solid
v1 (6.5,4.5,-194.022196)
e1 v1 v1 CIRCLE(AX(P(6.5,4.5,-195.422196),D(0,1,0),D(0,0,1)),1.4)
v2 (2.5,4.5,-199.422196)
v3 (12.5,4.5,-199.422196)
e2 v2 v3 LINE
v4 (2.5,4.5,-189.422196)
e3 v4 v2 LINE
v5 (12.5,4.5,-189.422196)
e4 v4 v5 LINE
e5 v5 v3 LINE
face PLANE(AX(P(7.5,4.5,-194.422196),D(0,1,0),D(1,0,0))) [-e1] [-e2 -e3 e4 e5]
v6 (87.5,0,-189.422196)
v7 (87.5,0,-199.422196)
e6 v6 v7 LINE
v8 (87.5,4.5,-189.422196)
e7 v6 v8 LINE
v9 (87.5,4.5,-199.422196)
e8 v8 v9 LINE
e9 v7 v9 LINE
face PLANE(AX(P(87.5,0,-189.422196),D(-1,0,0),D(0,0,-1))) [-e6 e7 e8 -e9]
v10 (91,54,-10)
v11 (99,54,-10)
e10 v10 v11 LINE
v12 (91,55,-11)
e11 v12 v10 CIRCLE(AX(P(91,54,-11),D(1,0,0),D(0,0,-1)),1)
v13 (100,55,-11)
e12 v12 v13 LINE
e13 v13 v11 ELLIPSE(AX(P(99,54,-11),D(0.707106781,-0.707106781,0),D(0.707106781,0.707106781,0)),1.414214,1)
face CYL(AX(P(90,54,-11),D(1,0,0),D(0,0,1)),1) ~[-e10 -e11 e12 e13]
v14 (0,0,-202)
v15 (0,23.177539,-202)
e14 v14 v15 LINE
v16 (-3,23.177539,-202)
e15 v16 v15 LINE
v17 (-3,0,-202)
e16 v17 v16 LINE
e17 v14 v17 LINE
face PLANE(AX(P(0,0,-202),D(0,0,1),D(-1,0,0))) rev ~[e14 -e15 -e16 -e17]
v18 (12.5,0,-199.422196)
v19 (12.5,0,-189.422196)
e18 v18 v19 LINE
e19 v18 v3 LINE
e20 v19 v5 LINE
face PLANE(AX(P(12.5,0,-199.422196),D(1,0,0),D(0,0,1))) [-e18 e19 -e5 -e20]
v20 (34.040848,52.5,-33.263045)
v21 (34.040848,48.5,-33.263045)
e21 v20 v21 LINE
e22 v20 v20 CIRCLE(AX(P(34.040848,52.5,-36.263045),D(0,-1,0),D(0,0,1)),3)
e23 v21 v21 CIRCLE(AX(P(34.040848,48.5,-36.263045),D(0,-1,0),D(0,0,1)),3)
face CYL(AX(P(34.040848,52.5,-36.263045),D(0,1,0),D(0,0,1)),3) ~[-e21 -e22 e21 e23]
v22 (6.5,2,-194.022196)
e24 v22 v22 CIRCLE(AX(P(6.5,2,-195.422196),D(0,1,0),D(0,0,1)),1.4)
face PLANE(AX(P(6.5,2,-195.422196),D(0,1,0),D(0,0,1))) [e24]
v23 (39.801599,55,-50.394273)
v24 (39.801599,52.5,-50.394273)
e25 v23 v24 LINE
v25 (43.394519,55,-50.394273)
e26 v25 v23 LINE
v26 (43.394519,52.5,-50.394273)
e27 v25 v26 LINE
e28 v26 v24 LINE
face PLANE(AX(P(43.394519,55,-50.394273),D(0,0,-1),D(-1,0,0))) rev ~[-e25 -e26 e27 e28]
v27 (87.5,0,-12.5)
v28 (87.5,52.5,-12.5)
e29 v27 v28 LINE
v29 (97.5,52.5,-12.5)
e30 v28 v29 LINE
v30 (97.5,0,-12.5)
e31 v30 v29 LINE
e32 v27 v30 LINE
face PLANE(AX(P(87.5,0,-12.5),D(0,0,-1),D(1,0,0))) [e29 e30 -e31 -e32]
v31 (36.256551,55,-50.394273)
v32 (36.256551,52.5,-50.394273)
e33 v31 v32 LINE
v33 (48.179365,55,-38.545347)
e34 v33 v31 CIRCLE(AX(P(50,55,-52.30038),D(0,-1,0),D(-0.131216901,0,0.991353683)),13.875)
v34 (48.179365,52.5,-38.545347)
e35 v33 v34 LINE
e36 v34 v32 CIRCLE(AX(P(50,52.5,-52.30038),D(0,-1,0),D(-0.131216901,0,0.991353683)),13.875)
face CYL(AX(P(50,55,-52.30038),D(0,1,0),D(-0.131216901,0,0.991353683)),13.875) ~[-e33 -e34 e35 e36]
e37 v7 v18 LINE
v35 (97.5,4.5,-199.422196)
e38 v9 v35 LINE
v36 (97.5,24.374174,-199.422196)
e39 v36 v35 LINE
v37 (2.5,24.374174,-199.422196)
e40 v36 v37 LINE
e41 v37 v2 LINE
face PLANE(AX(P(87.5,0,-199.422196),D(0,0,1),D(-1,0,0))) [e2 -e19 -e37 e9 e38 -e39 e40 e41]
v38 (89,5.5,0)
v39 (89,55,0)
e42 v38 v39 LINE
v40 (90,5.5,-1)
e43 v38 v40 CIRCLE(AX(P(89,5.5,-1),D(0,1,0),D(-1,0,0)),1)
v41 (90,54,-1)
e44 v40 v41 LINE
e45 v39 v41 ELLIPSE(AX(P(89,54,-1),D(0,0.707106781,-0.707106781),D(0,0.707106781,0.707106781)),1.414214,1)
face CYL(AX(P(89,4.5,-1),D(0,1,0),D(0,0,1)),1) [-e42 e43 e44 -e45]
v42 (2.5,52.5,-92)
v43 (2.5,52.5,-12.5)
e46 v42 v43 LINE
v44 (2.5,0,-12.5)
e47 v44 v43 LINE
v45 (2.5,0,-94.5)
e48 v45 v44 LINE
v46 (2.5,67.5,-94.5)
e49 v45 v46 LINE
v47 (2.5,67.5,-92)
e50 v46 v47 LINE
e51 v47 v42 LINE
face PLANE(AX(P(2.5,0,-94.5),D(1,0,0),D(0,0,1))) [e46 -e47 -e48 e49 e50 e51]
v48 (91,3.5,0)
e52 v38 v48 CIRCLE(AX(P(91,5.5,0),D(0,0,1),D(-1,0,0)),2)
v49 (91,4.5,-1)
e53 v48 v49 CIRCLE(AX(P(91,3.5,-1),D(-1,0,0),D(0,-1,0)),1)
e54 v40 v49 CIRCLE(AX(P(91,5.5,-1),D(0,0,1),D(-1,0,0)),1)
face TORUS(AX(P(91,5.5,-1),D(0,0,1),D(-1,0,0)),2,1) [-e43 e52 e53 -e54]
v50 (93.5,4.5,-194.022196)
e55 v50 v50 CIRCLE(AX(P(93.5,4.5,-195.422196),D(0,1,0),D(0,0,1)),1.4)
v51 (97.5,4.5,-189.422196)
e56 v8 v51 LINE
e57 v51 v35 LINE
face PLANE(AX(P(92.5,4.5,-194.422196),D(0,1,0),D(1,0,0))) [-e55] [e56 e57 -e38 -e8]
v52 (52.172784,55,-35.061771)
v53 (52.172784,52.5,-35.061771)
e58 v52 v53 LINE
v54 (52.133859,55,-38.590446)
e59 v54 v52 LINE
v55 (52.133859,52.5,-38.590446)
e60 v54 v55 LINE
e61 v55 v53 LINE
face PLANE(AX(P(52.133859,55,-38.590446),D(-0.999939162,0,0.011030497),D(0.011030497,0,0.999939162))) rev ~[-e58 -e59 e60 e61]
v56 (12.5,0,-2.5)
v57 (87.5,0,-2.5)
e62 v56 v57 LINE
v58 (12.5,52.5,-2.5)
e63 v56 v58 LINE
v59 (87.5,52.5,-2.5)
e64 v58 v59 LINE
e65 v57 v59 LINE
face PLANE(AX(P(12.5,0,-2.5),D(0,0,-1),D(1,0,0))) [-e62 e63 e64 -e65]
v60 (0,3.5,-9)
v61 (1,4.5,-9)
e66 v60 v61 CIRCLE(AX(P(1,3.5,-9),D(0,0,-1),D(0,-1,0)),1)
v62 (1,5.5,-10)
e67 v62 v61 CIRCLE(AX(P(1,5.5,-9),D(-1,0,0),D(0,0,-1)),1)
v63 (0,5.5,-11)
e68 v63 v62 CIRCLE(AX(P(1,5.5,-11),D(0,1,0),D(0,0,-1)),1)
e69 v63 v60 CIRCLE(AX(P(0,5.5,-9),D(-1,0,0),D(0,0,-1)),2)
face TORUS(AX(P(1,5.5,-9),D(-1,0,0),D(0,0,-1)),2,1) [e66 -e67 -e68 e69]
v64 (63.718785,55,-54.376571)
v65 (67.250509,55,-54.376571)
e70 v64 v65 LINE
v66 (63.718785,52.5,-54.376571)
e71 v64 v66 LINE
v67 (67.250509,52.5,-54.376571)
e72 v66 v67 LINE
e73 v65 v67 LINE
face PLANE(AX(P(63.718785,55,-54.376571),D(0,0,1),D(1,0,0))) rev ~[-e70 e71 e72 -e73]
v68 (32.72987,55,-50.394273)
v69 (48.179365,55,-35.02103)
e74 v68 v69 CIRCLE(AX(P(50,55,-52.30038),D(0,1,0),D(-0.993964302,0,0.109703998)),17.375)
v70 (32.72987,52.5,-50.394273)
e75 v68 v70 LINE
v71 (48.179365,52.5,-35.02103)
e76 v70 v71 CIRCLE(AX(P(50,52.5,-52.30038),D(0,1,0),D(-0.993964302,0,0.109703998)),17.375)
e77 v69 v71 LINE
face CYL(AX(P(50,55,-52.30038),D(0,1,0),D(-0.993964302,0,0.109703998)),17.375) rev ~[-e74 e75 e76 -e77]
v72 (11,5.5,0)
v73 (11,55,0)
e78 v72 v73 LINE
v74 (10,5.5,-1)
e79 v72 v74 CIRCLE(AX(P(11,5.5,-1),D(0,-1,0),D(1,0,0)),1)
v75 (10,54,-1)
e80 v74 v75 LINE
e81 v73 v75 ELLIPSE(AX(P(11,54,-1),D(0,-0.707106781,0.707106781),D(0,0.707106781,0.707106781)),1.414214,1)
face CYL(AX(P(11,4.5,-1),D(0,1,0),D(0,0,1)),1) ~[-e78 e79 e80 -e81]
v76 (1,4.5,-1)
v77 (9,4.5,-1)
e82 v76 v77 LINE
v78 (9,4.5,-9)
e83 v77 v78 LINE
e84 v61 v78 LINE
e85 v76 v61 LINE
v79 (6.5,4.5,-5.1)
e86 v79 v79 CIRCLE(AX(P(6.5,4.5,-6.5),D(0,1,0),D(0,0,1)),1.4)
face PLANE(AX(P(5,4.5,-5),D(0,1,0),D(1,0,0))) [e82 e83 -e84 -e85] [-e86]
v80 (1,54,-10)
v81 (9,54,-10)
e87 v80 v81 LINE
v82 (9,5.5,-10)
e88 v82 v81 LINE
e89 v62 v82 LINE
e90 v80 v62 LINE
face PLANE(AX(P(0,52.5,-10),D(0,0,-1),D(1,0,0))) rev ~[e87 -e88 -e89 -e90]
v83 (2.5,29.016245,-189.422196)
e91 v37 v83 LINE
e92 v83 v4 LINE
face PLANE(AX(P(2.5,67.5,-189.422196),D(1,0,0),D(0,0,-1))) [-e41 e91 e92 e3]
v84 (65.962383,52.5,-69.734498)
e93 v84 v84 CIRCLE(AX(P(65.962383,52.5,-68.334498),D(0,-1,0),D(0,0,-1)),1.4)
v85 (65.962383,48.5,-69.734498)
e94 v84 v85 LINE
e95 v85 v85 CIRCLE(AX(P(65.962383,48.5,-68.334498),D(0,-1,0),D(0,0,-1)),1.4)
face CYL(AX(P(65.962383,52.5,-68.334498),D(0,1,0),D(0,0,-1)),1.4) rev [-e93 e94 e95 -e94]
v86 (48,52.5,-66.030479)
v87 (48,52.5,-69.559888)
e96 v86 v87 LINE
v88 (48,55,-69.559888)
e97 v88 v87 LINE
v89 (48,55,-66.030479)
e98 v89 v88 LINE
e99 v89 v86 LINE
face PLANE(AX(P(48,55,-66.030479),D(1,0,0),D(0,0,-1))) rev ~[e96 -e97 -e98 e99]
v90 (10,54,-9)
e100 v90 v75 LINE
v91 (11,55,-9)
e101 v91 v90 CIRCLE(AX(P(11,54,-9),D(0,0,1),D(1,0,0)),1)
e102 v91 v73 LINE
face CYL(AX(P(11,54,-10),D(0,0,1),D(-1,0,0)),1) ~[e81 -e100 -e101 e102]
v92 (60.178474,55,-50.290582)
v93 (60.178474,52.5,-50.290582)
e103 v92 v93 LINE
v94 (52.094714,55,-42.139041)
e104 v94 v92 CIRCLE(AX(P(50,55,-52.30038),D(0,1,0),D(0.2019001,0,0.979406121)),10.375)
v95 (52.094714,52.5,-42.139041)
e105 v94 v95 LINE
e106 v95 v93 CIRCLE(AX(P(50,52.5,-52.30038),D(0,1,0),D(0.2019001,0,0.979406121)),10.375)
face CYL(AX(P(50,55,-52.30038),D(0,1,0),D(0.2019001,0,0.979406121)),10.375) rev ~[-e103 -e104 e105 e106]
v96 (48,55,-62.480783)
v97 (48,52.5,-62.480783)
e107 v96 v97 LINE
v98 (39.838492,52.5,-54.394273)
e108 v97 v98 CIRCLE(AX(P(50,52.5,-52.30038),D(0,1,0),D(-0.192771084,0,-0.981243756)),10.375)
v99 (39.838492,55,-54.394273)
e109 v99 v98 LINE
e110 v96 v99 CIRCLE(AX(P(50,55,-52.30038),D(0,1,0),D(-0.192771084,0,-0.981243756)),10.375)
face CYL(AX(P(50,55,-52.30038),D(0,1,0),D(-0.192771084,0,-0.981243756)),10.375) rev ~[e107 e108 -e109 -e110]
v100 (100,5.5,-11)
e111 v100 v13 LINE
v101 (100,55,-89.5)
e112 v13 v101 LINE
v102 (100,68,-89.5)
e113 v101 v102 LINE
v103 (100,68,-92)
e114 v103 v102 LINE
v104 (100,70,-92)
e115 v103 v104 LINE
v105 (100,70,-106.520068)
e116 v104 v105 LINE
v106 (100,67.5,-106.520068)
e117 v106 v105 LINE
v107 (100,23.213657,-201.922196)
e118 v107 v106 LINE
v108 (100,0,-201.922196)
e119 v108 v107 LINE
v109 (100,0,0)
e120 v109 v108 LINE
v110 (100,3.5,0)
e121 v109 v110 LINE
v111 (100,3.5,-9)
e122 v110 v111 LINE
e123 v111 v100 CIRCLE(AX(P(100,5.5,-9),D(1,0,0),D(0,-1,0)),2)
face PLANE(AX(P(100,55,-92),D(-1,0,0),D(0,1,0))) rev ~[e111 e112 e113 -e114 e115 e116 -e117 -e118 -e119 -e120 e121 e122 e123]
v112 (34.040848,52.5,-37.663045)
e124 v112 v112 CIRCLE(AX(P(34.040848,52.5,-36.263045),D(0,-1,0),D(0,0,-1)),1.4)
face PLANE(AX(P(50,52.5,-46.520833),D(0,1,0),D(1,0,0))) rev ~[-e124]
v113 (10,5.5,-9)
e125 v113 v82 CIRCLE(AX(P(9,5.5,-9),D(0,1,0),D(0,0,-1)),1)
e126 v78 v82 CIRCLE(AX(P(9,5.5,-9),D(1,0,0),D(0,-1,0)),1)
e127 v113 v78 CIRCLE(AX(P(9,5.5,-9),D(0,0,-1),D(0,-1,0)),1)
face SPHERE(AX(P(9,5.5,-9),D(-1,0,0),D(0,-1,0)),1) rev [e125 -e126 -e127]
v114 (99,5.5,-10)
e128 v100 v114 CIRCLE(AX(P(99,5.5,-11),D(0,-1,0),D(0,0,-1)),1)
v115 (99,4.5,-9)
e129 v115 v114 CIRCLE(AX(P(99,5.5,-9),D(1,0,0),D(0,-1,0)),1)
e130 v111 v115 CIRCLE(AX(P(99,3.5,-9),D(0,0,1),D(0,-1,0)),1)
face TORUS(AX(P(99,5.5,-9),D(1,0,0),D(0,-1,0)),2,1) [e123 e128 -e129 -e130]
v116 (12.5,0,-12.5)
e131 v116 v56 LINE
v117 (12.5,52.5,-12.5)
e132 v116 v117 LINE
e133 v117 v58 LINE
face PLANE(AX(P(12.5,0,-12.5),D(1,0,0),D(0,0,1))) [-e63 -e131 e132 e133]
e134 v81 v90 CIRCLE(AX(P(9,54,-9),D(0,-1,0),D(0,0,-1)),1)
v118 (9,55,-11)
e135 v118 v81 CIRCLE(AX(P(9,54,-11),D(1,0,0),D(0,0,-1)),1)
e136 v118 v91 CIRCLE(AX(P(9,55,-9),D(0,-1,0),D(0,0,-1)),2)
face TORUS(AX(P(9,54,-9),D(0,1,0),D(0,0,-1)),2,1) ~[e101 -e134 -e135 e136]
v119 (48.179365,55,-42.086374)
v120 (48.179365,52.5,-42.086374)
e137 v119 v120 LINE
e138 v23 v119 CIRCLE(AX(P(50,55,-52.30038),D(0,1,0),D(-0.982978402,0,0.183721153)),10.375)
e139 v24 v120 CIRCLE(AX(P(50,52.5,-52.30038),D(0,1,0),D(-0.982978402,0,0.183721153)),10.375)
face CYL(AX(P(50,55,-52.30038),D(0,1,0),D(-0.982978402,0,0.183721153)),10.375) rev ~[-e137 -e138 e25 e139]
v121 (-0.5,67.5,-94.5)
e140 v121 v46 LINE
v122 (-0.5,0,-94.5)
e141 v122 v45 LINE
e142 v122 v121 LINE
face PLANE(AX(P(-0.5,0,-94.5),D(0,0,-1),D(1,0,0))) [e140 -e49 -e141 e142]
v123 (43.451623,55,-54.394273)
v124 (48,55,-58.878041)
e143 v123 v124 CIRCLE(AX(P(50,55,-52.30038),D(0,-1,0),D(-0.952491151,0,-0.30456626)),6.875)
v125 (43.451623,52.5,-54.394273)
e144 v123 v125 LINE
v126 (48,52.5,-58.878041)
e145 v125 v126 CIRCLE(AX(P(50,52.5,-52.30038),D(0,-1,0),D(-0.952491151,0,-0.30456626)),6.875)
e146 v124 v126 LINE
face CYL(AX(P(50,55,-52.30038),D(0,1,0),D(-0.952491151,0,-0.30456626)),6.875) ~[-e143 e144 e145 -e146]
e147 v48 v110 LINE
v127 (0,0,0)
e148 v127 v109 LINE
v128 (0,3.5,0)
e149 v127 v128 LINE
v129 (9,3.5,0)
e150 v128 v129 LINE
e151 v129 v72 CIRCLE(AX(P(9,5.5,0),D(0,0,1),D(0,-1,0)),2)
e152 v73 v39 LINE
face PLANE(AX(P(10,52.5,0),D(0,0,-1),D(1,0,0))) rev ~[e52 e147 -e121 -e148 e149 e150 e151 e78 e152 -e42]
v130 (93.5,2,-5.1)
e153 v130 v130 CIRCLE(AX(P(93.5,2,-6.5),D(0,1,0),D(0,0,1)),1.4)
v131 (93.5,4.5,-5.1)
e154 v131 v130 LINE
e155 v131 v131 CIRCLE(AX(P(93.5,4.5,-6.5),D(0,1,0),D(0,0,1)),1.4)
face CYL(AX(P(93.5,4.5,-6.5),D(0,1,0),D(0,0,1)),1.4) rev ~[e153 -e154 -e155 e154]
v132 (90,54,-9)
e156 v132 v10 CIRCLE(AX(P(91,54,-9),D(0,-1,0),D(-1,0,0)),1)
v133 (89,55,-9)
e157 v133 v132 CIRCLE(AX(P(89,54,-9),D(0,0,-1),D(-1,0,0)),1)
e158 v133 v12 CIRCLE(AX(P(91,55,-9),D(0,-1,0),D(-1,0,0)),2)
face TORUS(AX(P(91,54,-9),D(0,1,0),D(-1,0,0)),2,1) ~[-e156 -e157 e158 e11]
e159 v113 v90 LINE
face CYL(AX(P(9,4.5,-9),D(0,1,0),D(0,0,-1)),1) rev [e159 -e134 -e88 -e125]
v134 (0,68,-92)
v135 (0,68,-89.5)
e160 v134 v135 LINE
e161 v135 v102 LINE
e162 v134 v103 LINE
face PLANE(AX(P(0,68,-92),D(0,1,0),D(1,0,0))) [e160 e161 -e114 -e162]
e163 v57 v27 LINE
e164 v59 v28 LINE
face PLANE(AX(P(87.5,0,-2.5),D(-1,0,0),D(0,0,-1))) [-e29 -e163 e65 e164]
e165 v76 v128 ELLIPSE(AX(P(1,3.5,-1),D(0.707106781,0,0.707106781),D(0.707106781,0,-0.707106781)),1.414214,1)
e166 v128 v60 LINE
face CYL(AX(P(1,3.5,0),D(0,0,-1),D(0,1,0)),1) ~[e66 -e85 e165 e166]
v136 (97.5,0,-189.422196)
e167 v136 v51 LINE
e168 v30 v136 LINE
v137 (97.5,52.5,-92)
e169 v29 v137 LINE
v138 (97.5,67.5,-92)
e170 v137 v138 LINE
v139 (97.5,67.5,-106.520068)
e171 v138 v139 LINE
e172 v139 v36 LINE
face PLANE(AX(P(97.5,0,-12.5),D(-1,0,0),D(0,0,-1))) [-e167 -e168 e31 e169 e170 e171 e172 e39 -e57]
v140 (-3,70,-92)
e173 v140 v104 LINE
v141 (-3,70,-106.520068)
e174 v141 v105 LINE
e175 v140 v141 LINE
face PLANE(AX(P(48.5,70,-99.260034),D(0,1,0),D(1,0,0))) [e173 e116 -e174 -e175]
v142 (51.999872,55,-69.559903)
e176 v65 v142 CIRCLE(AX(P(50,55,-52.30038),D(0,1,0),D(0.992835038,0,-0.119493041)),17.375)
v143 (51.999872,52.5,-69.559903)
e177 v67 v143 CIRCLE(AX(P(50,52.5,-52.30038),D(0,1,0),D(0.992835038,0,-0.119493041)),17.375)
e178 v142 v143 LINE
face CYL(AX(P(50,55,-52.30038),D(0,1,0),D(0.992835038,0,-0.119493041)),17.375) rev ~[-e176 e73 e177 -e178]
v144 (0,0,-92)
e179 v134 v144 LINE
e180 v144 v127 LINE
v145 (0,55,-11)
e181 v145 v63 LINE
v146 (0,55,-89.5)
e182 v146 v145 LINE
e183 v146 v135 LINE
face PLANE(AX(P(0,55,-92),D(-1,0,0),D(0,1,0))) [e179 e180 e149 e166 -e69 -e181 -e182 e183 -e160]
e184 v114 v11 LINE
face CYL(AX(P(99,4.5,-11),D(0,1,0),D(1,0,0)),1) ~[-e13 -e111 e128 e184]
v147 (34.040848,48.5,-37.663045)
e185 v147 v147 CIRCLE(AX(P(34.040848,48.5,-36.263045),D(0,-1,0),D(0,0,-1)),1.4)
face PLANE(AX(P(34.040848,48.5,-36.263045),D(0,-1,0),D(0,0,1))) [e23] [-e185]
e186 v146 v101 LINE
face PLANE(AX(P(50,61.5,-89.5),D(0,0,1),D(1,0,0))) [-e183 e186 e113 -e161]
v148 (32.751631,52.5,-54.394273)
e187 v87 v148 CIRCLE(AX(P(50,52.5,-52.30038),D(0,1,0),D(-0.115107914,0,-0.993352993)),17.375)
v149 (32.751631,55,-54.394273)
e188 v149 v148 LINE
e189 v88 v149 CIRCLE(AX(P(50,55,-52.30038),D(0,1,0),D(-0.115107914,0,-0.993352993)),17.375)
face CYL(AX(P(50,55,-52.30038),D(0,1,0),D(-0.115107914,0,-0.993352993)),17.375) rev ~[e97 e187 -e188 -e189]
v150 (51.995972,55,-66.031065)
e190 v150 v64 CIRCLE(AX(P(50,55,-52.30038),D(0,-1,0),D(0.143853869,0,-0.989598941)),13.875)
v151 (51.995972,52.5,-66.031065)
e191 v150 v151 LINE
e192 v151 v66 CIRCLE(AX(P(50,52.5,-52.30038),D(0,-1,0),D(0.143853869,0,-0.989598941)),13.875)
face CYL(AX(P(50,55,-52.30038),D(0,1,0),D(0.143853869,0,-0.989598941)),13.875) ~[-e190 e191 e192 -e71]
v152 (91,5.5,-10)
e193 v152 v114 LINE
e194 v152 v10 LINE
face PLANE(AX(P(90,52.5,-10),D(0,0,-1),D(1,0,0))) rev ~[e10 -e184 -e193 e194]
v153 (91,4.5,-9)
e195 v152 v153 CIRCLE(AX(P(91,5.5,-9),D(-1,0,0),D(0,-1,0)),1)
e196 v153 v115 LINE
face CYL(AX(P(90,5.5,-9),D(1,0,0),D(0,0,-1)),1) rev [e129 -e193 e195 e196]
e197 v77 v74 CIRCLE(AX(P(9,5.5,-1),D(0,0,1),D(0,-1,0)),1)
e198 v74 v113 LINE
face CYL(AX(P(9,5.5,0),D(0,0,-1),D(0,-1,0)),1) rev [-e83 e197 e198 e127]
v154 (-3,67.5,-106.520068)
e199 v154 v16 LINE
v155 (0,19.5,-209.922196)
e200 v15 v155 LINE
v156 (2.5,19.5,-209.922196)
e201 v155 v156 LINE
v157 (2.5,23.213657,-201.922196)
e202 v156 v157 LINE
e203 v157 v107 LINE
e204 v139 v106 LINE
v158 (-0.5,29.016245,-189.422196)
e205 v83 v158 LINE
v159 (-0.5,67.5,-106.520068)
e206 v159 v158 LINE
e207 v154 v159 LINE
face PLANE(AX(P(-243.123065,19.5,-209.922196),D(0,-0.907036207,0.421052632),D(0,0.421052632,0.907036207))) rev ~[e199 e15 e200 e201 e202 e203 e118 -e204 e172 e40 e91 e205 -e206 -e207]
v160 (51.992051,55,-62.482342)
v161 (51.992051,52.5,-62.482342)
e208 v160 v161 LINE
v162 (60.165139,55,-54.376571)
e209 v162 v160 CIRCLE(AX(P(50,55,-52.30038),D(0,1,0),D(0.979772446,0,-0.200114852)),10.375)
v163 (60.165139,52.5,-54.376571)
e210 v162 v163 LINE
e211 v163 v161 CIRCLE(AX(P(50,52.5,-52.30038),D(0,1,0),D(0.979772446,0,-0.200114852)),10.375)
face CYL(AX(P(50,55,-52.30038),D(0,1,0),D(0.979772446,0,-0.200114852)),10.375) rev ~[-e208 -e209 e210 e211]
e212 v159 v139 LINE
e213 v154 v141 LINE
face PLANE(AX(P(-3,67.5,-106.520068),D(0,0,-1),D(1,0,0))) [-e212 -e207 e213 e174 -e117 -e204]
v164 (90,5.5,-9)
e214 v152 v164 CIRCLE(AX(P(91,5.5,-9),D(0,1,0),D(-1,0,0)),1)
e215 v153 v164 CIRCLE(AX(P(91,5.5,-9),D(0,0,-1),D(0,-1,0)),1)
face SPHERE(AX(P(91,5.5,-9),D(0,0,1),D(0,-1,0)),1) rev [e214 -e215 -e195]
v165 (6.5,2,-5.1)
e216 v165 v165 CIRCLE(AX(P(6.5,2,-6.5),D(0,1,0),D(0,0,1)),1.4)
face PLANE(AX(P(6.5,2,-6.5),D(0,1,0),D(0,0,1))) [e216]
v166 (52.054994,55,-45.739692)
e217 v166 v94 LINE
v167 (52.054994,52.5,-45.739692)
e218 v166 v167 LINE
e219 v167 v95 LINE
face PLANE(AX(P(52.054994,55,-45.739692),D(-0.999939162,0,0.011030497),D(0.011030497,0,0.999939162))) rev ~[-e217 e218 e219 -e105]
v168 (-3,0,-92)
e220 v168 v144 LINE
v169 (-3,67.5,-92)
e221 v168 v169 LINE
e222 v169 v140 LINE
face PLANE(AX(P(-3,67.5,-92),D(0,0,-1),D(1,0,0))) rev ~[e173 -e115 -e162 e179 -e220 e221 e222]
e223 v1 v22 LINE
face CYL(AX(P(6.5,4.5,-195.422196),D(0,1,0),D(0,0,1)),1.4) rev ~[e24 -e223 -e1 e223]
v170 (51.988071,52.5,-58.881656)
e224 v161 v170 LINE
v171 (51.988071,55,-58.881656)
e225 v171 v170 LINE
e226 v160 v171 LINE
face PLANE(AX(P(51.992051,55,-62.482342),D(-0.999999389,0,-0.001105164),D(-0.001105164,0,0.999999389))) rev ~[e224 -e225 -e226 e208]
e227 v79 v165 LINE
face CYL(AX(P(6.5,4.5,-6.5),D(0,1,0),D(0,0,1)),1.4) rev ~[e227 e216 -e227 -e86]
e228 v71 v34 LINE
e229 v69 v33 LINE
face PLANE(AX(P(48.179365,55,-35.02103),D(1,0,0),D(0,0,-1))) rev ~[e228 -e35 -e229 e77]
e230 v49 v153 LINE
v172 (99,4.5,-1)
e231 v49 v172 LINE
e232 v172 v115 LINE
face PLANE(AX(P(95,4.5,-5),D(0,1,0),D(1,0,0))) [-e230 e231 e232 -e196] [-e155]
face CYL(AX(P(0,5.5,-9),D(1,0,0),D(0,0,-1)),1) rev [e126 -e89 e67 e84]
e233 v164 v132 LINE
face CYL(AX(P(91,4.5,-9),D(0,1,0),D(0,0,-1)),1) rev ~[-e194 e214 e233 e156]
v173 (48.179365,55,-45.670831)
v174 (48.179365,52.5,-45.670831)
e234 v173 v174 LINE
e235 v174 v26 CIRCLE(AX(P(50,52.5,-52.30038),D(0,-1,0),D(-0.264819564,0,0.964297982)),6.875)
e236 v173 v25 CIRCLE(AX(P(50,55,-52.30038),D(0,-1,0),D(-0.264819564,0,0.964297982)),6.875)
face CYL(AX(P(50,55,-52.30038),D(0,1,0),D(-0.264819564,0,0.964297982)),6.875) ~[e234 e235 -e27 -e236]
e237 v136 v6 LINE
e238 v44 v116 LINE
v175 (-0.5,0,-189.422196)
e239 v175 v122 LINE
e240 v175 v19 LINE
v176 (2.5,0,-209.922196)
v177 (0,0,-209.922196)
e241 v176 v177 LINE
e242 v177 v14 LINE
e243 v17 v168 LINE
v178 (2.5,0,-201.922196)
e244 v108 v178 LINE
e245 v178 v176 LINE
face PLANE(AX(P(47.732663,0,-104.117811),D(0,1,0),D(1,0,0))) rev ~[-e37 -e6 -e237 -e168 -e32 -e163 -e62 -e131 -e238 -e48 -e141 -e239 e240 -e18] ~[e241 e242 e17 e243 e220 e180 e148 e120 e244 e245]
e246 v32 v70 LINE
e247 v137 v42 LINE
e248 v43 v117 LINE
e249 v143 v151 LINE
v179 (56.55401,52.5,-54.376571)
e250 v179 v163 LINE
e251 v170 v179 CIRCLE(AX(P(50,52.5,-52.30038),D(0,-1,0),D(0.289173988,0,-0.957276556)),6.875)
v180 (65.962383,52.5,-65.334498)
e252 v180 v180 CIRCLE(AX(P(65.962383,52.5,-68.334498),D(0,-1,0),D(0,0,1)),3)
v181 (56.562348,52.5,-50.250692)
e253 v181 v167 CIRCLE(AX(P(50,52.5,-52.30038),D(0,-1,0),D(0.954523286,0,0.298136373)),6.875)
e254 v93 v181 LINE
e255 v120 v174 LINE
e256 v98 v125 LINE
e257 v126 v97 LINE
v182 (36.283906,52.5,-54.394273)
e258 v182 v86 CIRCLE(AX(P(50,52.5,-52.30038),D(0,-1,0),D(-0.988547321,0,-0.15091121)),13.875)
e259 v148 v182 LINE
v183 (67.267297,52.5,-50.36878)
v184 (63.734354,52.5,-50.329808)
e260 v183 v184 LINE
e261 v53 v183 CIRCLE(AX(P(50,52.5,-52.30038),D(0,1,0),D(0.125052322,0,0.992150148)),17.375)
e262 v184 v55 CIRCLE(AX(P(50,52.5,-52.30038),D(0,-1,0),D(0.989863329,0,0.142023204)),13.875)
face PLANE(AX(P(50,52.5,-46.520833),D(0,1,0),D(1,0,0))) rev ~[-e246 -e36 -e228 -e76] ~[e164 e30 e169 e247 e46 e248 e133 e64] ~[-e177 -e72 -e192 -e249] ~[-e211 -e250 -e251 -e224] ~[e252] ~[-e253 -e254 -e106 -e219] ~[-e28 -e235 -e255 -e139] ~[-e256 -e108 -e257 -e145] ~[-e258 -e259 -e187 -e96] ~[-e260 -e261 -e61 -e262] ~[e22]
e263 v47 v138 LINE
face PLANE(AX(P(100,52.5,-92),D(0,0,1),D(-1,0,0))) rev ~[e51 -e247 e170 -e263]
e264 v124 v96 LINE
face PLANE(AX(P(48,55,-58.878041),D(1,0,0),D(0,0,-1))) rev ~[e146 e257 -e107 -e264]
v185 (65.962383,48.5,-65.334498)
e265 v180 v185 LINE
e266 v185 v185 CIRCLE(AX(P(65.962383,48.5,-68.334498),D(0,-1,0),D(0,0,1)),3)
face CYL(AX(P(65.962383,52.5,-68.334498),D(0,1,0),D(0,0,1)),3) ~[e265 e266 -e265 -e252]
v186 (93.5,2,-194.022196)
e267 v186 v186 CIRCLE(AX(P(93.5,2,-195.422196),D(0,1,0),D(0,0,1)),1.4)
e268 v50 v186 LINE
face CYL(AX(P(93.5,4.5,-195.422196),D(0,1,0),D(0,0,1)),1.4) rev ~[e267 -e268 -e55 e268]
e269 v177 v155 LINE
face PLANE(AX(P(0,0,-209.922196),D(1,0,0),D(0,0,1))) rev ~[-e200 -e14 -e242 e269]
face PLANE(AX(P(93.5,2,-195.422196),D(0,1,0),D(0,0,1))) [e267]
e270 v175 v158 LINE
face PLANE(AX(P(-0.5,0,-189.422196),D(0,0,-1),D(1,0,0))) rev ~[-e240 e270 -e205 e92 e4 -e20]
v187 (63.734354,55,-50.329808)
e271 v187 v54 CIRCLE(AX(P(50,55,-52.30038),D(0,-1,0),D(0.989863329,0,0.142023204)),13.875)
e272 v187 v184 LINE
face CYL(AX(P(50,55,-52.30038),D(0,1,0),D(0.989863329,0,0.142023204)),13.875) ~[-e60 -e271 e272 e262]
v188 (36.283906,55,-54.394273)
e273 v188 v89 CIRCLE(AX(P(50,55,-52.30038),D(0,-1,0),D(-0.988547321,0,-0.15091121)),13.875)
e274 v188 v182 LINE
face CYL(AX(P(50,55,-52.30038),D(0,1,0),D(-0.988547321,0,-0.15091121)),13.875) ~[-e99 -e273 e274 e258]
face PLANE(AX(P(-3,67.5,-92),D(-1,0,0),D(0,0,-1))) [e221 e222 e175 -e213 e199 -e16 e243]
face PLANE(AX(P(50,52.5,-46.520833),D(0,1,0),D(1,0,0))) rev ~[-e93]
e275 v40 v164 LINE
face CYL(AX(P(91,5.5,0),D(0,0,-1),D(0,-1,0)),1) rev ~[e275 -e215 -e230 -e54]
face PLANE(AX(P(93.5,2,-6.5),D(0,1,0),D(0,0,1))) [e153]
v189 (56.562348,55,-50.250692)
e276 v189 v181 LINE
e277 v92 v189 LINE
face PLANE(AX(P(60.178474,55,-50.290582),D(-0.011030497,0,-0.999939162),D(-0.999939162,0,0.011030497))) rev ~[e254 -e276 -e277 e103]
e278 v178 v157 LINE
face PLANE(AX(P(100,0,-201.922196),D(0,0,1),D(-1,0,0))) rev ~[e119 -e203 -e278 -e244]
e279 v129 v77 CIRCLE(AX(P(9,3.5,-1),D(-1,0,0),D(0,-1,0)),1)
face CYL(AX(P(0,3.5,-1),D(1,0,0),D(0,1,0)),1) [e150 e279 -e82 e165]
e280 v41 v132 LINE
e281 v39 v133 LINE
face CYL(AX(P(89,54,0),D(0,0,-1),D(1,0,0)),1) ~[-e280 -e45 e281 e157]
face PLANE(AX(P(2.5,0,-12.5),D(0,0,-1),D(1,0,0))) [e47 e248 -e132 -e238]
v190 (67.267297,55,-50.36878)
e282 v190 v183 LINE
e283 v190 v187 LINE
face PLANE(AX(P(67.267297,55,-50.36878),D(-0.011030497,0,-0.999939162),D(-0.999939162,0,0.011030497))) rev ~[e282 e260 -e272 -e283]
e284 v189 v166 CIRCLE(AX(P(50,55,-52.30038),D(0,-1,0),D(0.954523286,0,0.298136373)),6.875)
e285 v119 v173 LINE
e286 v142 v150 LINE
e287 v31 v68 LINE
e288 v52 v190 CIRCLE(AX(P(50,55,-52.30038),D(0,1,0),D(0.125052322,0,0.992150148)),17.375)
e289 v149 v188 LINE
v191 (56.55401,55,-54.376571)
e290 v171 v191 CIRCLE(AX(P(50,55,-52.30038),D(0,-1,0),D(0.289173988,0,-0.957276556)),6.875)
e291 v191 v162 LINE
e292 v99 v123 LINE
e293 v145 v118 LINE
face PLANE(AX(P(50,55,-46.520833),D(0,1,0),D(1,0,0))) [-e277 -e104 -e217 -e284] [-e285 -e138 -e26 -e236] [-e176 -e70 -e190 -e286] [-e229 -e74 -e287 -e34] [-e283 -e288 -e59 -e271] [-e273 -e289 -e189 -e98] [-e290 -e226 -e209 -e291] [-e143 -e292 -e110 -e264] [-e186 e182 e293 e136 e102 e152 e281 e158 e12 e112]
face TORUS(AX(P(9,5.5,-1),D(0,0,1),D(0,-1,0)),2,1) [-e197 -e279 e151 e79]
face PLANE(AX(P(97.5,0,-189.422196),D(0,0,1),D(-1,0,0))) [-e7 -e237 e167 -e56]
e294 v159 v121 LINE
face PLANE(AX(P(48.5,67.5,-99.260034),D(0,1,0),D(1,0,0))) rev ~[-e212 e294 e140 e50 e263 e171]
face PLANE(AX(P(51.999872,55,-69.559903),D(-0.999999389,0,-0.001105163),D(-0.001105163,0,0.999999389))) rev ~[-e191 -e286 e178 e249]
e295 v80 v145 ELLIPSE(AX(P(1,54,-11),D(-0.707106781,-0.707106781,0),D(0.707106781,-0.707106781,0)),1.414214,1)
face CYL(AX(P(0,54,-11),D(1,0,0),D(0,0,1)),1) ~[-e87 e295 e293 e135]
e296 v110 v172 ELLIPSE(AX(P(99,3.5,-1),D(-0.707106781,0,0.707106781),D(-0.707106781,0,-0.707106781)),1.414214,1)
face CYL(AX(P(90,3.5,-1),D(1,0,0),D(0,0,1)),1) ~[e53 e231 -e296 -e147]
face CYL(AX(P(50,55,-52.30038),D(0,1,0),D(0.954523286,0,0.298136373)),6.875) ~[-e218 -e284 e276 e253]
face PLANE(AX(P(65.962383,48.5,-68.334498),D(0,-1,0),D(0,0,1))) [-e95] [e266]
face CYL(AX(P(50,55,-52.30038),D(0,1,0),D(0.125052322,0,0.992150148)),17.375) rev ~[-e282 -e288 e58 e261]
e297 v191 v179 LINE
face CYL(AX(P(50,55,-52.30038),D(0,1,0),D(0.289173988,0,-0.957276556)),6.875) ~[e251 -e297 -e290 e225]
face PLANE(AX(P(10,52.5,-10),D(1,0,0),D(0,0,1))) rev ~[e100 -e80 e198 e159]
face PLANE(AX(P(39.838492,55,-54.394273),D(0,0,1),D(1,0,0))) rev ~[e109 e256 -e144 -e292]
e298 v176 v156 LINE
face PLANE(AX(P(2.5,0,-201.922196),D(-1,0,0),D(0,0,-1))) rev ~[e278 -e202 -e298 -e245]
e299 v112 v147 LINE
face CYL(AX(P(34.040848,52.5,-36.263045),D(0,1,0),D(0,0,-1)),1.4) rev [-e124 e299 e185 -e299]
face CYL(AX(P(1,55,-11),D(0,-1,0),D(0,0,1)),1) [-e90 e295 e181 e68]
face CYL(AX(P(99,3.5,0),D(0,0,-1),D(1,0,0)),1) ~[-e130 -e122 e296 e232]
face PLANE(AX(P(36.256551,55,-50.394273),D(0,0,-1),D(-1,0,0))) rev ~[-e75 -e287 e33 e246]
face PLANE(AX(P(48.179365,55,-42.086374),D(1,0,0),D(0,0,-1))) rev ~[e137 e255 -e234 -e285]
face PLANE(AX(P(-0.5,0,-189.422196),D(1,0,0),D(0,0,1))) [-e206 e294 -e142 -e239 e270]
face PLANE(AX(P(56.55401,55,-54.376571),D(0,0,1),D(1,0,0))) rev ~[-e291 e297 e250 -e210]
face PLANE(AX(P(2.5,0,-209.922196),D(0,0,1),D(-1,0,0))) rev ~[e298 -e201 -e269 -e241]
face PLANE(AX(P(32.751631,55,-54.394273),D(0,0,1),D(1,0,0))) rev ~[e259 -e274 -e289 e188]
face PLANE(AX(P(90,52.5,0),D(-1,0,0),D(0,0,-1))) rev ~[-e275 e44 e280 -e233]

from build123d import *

# Parameters (mm, degrees)
BOSS_EXTRUDE1_DEPTH     = 67.5
CUT_EXTRUDE1_DEPTH      = 243.123064516
CUT_EXTRUDE1_DEPTH_BACK = 243.123064516
SKETCH3_W               = 10
SKETCH3_H               = 10
CUT_EXTRUDE2_DEPTH      = 63
SKETCH13_W              = 105.444668515
SKETCH13_H              = 94.744573391
CUT_EXTRUDE7_DEPTH      = 15
SKETCH7_R               = 1.4
CUT_EXTRUDE3_DEPTH      = 2.5
BOSS_EXTRUDE3_DEPTH     = 2.5
FILLET1_R               = 1
CUT_EXTRUDE4_DEPTH      = 2.5
SKETCH9_R               = 3
SKETCH9_R_2             = 1.4
BOSS_EXTRUDE4_DEPTH     = 4
SKETCH14_W              = 103
SKETCH14_H              = 14.520068356
BOSS_EXTRUDE5_DEPTH     = 2.5
SKETCH15_W              = 100
SKETCH15_H              = 13
BOSS_EXTRUDE6_DEPTH     = 2.5


with BuildPart() as part:
    # Sketch1 → Boss-Extrude1 (new body)
    with BuildSketch(Plane(origin=(0, 0, 0), x_dir=(1, 0, 0), z_dir=(0, 1, 0))):
        Polygon((0, 0), (100, 0), (100, 201.922195993), (97.5, 201.922195993), (2.5, 201.922195993), (2.5, 209.922195993), (0, 209.922195993), (0, 202), (-3, 202), (-3, 92), (0, 92), align=None)
        Polygon((87.5, 199.422195993), (12.5, 199.422195993), (12.5, 189.422195993), (2.5, 189.422195993), (-0.5, 189.422195993), (-0.5, 94.5), (2.5, 94.5), (2.5, 12.5), (12.5, 12.5), (12.5, 2.5), (87.5, 2.5), (87.5, 12.5), (97.5, 12.5), (97.5, 189.422195993), (87.5, 189.422195993), align=None, mode=Mode.SUBTRACT)
    extrude(amount=BOSS_EXTRUDE1_DEPTH)

    # Sketch2 → Cut-Extrude1 (cut, two sides: drawn at the far end of the back side and taken through both)
    with BuildSketch(Plane(origin=(0, 0, 0), x_dir=(0, 0, -1), z_dir=(1, 0, 0)).offset(-CUT_EXTRUDE1_DEPTH_BACK)):
        Polygon((209.922195993, 19.5), (106.520068356, 67.5), (209.922195993, 67.5), align=None)
    extrude(amount=CUT_EXTRUDE1_DEPTH + CUT_EXTRUDE1_DEPTH_BACK, mode=Mode.SUBTRACT)

    # Sketch3 → Cut-Extrude2 (cut)
    with BuildSketch(Plane(origin=(0, 67.5, 0), x_dir=(1, 0, 0), z_dir=(0, 1, 0))):
        with Locations((5, 5)):
            Rectangle(SKETCH3_W, SKETCH3_H)
        with Locations((95, 5)):
            Rectangle(SKETCH3_W, SKETCH3_H)
        with Locations((92.5, 194.422195993)):
            Rectangle(SKETCH3_W, SKETCH3_H)
        with Locations((7.5, 194.422195993)):
            Rectangle(SKETCH3_W, SKETCH3_H)
    extrude(amount=-CUT_EXTRUDE2_DEPTH, mode=Mode.SUBTRACT)

    # Sketch13 → Cut-Extrude7 (cut)
    with BuildSketch(Plane(origin=(0, 67.5, 0), x_dir=(1, 0, 0), z_dir=(0, 1, 0))):
        with Locations((49.722334258, 44.627713304)):
            Rectangle(SKETCH13_W, SKETCH13_H)
    extrude(amount=-CUT_EXTRUDE7_DEPTH, mode=Mode.SUBTRACT)

    # Sketch7 → Cut-Extrude3 (cut)
    with BuildSketch(Plane(origin=(0, 4.5, 0), x_dir=(1, 0, 0), z_dir=(0, 1, 0))):
        with Locations(Location((6.5, 6.5, 0), (0, 0, 270))):
            Circle(SKETCH7_R)
        with Locations(Location((93.5, 6.5, 0), (0, 0, 270))):
            Circle(SKETCH7_R)
        with Locations(Location((93.5, 195.422195993, 0), (0, 0, 270))):
            Circle(SKETCH7_R)
        with Locations(Location((6.5, 195.422195993, 0), (0, 0, 270))):
            Circle(SKETCH7_R)
    extrude(amount=-CUT_EXTRUDE3_DEPTH, mode=Mode.SUBTRACT)

    # Sketch6 → Boss-Extrude3 (add)
    with BuildSketch(Plane(origin=(0, 52.5, 0), x_dir=(1, 0, 0), z_dir=(0, 1, 0))):
        Polygon((0, 10), (10, 10), (10, 0), (90, 0), (90, 10), (100, 10), (100, 92), (0, 92), align=None)
    extrude(amount=BOSS_EXTRUDE3_DEPTH)

    # Fillet1
    fillet1_edges = [part.edges().sort_by_distance(p)[0] for p in [
        (100, 4.5, -5),
        (100, 29.75, -10),
        (95, 4.5, 0),
        (90, 4.5, -5),
        (90, 29.75, 0),
        (95, 4.5, -10),
        (90, 29.75, -10),
        (0, 4.5, -5),
        (5, 4.5, -10),
        (0, 29.75, -10),
        (10, 4.5, -5),
        (10, 29.75, -10),
        (5, 4.5, 0),
        (10, 29.75, 0),
        (5, 55, -10),
        (10, 55, -5),
        (90, 55, -5),
        (95, 55, -10),
    ]]
    fillet(fillet1_edges, radius=FILLET1_R)

    # Sketch8 → Cut-Extrude4 (cut)
    with BuildSketch(Plane(origin=(0, 55, 0), x_dir=(1, 0, 0), z_dir=(0, 1, 0))):
        with BuildLine():
            Line((48, 66.030478743), (48, 69.559887757))
            ThreePointArc((48, 69.559887757), (37.747494154, 64.619743351), (32.751630891, 54.394272549))
            Line((32.751630891, 54.394272549), (36.283905916, 54.394272549))
            ThreePointArc((36.283905916, 54.394272549), (40.222514282, 62.144992148), (48, 66.030478743))
        make_face()
        with BuildLine():
            ThreePointArc((67.250508789, 54.376571097), (62.258779803, 64.613500264), (51.999872379, 69.559902545))
            Line((51.999872379, 69.559902545), (51.995972434, 66.031064817))
            ThreePointArc((51.995972434, 66.031064817), (59.782392543, 62.140116351), (63.718784694, 54.376571097))
            Line((63.718784694, 54.376571097), (67.250508789, 54.376571097))
        make_face()
        with BuildLine():
            ThreePointArc((52.172784101, 35.061770682), (62.371552974, 40.10057205), (67.267297082, 50.368780042))
            Line((67.267297082, 50.368780042), (63.734353685, 50.329807549))
            ThreePointArc((63.734353685, 50.329807549), (59.869305567, 42.547819197), (52.133858688, 38.590446171))
            Line((52.133858688, 38.590446171), (52.172784101, 35.061770682))
        make_face()
        with BuildLine():
            Line((36.256551333, 50.394272549), (32.729870259, 50.394272549))
            ThreePointArc((32.729870259, 50.394272549), (37.744451644, 39.98404241), (48.179365496, 35.021030128))
            Line((48.179365496, 35.021030128), (48.179365496, 38.545347156))
            ThreePointArc((48.179365496, 38.545347156), (40.219436137, 42.45882498), (36.256551333, 50.394272549))
        make_face()
        with BuildLine():
            Line((43.394518847, 50.394272549), (39.801599083, 50.394272549))
            ThreePointArc((39.801599083, 50.394272549), (42.694550048, 44.933492377), (48.179365496, 42.086373682))
            Line((48.179365496, 42.086373682), (48.179365496, 45.670830881))
            ThreePointArc((48.179365496, 45.670830881), (45.170136486, 47.407727524), (43.394518847, 50.394272549))
        make_face()
        with BuildLine():
            Line((48, 58.878040566), (48, 62.480783478))
            ThreePointArc((48, 62.480783478), (42.6977071, 59.670396021), (39.838492389, 54.394272549))
            Line((39.838492389, 54.394272549), (43.451623336, 54.394272549))
            ThreePointArc((43.451623336, 54.394272549), (45.173538583, 57.196387596), (48, 58.878040566))
        make_face()
        with BuildLine():
            ThreePointArc((60.165139128, 54.376571097), (57.30583297, 59.666886795), (51.992050513, 62.482341979))
            Line((51.992050513, 62.482341979), (51.988071163, 58.881655832))
            ThreePointArc((51.988071163, 58.881655832), (54.828637163, 57.194241801), (56.554010489, 54.376571097))
            Line((56.554010489, 54.376571097), (60.165139128, 54.376571097))
        make_face()
        with BuildLine():
            ThreePointArc((52.094713542, 42.139041005), (57.366796475, 44.994838139), (60.178474304, 50.290582046))
            Line((60.178474304, 50.290582046), (56.56234759, 50.250691943))
            ThreePointArc((56.56234759, 50.250691943), (54.863324523, 47.440986584), (52.054994158, 45.739691738))
            Line((52.054994158, 45.739691738), (52.094713542, 42.139041005))
        make_face()
    extrude(amount=-CUT_EXTRUDE4_DEPTH, mode=Mode.SUBTRACT)

    # Sketch9 → Boss-Extrude4 (add)
    # profile 1 of 2: a face of its own
    with BuildSketch(Plane.XZ.offset(-52.5)):
        with Locations(Location((34.040847972, -36.263045043, 0), (0, 0, 90))):
            Circle(SKETCH9_R)
        with Locations(Location((34.040847972, -36.263045043, 0), (0, 0, 270))):
            Circle(SKETCH9_R_2, mode=Mode.SUBTRACT)
    # profile 2 of 2: a face of its own
    with BuildSketch(Plane.XZ.offset(-52.5)):
        with Locations(Location((65.962383475, -68.334497632, 0), (0, 0, 90))):
            Circle(SKETCH9_R)
        with Locations(Location((65.962383475, -68.334497632, 0), (0, 0, 270))):
            Circle(SKETCH9_R_2, mode=Mode.SUBTRACT)
    extrude(amount=BOSS_EXTRUDE4_DEPTH)

    # Sketch14 → Boss-Extrude5 (add)
    with BuildSketch(Plane(origin=(0, 67.5, 0), x_dir=(1, 0, 0), z_dir=(0, 1, 0))):
        with Locations((48.5, 99.260034178)):
            Rectangle(SKETCH14_W, SKETCH14_H)
    extrude(amount=BOSS_EXTRUDE5_DEPTH)

    # Sketch15 → Boss-Extrude6 (add)
    with BuildSketch(Plane.XY.offset(-92)):
        with Locations((50, 61.5)):
            Rectangle(SKETCH15_W, SKETCH15_H)
    extrude(amount=BOSS_EXTRUDE6_DEPTH)


solid = part.part
